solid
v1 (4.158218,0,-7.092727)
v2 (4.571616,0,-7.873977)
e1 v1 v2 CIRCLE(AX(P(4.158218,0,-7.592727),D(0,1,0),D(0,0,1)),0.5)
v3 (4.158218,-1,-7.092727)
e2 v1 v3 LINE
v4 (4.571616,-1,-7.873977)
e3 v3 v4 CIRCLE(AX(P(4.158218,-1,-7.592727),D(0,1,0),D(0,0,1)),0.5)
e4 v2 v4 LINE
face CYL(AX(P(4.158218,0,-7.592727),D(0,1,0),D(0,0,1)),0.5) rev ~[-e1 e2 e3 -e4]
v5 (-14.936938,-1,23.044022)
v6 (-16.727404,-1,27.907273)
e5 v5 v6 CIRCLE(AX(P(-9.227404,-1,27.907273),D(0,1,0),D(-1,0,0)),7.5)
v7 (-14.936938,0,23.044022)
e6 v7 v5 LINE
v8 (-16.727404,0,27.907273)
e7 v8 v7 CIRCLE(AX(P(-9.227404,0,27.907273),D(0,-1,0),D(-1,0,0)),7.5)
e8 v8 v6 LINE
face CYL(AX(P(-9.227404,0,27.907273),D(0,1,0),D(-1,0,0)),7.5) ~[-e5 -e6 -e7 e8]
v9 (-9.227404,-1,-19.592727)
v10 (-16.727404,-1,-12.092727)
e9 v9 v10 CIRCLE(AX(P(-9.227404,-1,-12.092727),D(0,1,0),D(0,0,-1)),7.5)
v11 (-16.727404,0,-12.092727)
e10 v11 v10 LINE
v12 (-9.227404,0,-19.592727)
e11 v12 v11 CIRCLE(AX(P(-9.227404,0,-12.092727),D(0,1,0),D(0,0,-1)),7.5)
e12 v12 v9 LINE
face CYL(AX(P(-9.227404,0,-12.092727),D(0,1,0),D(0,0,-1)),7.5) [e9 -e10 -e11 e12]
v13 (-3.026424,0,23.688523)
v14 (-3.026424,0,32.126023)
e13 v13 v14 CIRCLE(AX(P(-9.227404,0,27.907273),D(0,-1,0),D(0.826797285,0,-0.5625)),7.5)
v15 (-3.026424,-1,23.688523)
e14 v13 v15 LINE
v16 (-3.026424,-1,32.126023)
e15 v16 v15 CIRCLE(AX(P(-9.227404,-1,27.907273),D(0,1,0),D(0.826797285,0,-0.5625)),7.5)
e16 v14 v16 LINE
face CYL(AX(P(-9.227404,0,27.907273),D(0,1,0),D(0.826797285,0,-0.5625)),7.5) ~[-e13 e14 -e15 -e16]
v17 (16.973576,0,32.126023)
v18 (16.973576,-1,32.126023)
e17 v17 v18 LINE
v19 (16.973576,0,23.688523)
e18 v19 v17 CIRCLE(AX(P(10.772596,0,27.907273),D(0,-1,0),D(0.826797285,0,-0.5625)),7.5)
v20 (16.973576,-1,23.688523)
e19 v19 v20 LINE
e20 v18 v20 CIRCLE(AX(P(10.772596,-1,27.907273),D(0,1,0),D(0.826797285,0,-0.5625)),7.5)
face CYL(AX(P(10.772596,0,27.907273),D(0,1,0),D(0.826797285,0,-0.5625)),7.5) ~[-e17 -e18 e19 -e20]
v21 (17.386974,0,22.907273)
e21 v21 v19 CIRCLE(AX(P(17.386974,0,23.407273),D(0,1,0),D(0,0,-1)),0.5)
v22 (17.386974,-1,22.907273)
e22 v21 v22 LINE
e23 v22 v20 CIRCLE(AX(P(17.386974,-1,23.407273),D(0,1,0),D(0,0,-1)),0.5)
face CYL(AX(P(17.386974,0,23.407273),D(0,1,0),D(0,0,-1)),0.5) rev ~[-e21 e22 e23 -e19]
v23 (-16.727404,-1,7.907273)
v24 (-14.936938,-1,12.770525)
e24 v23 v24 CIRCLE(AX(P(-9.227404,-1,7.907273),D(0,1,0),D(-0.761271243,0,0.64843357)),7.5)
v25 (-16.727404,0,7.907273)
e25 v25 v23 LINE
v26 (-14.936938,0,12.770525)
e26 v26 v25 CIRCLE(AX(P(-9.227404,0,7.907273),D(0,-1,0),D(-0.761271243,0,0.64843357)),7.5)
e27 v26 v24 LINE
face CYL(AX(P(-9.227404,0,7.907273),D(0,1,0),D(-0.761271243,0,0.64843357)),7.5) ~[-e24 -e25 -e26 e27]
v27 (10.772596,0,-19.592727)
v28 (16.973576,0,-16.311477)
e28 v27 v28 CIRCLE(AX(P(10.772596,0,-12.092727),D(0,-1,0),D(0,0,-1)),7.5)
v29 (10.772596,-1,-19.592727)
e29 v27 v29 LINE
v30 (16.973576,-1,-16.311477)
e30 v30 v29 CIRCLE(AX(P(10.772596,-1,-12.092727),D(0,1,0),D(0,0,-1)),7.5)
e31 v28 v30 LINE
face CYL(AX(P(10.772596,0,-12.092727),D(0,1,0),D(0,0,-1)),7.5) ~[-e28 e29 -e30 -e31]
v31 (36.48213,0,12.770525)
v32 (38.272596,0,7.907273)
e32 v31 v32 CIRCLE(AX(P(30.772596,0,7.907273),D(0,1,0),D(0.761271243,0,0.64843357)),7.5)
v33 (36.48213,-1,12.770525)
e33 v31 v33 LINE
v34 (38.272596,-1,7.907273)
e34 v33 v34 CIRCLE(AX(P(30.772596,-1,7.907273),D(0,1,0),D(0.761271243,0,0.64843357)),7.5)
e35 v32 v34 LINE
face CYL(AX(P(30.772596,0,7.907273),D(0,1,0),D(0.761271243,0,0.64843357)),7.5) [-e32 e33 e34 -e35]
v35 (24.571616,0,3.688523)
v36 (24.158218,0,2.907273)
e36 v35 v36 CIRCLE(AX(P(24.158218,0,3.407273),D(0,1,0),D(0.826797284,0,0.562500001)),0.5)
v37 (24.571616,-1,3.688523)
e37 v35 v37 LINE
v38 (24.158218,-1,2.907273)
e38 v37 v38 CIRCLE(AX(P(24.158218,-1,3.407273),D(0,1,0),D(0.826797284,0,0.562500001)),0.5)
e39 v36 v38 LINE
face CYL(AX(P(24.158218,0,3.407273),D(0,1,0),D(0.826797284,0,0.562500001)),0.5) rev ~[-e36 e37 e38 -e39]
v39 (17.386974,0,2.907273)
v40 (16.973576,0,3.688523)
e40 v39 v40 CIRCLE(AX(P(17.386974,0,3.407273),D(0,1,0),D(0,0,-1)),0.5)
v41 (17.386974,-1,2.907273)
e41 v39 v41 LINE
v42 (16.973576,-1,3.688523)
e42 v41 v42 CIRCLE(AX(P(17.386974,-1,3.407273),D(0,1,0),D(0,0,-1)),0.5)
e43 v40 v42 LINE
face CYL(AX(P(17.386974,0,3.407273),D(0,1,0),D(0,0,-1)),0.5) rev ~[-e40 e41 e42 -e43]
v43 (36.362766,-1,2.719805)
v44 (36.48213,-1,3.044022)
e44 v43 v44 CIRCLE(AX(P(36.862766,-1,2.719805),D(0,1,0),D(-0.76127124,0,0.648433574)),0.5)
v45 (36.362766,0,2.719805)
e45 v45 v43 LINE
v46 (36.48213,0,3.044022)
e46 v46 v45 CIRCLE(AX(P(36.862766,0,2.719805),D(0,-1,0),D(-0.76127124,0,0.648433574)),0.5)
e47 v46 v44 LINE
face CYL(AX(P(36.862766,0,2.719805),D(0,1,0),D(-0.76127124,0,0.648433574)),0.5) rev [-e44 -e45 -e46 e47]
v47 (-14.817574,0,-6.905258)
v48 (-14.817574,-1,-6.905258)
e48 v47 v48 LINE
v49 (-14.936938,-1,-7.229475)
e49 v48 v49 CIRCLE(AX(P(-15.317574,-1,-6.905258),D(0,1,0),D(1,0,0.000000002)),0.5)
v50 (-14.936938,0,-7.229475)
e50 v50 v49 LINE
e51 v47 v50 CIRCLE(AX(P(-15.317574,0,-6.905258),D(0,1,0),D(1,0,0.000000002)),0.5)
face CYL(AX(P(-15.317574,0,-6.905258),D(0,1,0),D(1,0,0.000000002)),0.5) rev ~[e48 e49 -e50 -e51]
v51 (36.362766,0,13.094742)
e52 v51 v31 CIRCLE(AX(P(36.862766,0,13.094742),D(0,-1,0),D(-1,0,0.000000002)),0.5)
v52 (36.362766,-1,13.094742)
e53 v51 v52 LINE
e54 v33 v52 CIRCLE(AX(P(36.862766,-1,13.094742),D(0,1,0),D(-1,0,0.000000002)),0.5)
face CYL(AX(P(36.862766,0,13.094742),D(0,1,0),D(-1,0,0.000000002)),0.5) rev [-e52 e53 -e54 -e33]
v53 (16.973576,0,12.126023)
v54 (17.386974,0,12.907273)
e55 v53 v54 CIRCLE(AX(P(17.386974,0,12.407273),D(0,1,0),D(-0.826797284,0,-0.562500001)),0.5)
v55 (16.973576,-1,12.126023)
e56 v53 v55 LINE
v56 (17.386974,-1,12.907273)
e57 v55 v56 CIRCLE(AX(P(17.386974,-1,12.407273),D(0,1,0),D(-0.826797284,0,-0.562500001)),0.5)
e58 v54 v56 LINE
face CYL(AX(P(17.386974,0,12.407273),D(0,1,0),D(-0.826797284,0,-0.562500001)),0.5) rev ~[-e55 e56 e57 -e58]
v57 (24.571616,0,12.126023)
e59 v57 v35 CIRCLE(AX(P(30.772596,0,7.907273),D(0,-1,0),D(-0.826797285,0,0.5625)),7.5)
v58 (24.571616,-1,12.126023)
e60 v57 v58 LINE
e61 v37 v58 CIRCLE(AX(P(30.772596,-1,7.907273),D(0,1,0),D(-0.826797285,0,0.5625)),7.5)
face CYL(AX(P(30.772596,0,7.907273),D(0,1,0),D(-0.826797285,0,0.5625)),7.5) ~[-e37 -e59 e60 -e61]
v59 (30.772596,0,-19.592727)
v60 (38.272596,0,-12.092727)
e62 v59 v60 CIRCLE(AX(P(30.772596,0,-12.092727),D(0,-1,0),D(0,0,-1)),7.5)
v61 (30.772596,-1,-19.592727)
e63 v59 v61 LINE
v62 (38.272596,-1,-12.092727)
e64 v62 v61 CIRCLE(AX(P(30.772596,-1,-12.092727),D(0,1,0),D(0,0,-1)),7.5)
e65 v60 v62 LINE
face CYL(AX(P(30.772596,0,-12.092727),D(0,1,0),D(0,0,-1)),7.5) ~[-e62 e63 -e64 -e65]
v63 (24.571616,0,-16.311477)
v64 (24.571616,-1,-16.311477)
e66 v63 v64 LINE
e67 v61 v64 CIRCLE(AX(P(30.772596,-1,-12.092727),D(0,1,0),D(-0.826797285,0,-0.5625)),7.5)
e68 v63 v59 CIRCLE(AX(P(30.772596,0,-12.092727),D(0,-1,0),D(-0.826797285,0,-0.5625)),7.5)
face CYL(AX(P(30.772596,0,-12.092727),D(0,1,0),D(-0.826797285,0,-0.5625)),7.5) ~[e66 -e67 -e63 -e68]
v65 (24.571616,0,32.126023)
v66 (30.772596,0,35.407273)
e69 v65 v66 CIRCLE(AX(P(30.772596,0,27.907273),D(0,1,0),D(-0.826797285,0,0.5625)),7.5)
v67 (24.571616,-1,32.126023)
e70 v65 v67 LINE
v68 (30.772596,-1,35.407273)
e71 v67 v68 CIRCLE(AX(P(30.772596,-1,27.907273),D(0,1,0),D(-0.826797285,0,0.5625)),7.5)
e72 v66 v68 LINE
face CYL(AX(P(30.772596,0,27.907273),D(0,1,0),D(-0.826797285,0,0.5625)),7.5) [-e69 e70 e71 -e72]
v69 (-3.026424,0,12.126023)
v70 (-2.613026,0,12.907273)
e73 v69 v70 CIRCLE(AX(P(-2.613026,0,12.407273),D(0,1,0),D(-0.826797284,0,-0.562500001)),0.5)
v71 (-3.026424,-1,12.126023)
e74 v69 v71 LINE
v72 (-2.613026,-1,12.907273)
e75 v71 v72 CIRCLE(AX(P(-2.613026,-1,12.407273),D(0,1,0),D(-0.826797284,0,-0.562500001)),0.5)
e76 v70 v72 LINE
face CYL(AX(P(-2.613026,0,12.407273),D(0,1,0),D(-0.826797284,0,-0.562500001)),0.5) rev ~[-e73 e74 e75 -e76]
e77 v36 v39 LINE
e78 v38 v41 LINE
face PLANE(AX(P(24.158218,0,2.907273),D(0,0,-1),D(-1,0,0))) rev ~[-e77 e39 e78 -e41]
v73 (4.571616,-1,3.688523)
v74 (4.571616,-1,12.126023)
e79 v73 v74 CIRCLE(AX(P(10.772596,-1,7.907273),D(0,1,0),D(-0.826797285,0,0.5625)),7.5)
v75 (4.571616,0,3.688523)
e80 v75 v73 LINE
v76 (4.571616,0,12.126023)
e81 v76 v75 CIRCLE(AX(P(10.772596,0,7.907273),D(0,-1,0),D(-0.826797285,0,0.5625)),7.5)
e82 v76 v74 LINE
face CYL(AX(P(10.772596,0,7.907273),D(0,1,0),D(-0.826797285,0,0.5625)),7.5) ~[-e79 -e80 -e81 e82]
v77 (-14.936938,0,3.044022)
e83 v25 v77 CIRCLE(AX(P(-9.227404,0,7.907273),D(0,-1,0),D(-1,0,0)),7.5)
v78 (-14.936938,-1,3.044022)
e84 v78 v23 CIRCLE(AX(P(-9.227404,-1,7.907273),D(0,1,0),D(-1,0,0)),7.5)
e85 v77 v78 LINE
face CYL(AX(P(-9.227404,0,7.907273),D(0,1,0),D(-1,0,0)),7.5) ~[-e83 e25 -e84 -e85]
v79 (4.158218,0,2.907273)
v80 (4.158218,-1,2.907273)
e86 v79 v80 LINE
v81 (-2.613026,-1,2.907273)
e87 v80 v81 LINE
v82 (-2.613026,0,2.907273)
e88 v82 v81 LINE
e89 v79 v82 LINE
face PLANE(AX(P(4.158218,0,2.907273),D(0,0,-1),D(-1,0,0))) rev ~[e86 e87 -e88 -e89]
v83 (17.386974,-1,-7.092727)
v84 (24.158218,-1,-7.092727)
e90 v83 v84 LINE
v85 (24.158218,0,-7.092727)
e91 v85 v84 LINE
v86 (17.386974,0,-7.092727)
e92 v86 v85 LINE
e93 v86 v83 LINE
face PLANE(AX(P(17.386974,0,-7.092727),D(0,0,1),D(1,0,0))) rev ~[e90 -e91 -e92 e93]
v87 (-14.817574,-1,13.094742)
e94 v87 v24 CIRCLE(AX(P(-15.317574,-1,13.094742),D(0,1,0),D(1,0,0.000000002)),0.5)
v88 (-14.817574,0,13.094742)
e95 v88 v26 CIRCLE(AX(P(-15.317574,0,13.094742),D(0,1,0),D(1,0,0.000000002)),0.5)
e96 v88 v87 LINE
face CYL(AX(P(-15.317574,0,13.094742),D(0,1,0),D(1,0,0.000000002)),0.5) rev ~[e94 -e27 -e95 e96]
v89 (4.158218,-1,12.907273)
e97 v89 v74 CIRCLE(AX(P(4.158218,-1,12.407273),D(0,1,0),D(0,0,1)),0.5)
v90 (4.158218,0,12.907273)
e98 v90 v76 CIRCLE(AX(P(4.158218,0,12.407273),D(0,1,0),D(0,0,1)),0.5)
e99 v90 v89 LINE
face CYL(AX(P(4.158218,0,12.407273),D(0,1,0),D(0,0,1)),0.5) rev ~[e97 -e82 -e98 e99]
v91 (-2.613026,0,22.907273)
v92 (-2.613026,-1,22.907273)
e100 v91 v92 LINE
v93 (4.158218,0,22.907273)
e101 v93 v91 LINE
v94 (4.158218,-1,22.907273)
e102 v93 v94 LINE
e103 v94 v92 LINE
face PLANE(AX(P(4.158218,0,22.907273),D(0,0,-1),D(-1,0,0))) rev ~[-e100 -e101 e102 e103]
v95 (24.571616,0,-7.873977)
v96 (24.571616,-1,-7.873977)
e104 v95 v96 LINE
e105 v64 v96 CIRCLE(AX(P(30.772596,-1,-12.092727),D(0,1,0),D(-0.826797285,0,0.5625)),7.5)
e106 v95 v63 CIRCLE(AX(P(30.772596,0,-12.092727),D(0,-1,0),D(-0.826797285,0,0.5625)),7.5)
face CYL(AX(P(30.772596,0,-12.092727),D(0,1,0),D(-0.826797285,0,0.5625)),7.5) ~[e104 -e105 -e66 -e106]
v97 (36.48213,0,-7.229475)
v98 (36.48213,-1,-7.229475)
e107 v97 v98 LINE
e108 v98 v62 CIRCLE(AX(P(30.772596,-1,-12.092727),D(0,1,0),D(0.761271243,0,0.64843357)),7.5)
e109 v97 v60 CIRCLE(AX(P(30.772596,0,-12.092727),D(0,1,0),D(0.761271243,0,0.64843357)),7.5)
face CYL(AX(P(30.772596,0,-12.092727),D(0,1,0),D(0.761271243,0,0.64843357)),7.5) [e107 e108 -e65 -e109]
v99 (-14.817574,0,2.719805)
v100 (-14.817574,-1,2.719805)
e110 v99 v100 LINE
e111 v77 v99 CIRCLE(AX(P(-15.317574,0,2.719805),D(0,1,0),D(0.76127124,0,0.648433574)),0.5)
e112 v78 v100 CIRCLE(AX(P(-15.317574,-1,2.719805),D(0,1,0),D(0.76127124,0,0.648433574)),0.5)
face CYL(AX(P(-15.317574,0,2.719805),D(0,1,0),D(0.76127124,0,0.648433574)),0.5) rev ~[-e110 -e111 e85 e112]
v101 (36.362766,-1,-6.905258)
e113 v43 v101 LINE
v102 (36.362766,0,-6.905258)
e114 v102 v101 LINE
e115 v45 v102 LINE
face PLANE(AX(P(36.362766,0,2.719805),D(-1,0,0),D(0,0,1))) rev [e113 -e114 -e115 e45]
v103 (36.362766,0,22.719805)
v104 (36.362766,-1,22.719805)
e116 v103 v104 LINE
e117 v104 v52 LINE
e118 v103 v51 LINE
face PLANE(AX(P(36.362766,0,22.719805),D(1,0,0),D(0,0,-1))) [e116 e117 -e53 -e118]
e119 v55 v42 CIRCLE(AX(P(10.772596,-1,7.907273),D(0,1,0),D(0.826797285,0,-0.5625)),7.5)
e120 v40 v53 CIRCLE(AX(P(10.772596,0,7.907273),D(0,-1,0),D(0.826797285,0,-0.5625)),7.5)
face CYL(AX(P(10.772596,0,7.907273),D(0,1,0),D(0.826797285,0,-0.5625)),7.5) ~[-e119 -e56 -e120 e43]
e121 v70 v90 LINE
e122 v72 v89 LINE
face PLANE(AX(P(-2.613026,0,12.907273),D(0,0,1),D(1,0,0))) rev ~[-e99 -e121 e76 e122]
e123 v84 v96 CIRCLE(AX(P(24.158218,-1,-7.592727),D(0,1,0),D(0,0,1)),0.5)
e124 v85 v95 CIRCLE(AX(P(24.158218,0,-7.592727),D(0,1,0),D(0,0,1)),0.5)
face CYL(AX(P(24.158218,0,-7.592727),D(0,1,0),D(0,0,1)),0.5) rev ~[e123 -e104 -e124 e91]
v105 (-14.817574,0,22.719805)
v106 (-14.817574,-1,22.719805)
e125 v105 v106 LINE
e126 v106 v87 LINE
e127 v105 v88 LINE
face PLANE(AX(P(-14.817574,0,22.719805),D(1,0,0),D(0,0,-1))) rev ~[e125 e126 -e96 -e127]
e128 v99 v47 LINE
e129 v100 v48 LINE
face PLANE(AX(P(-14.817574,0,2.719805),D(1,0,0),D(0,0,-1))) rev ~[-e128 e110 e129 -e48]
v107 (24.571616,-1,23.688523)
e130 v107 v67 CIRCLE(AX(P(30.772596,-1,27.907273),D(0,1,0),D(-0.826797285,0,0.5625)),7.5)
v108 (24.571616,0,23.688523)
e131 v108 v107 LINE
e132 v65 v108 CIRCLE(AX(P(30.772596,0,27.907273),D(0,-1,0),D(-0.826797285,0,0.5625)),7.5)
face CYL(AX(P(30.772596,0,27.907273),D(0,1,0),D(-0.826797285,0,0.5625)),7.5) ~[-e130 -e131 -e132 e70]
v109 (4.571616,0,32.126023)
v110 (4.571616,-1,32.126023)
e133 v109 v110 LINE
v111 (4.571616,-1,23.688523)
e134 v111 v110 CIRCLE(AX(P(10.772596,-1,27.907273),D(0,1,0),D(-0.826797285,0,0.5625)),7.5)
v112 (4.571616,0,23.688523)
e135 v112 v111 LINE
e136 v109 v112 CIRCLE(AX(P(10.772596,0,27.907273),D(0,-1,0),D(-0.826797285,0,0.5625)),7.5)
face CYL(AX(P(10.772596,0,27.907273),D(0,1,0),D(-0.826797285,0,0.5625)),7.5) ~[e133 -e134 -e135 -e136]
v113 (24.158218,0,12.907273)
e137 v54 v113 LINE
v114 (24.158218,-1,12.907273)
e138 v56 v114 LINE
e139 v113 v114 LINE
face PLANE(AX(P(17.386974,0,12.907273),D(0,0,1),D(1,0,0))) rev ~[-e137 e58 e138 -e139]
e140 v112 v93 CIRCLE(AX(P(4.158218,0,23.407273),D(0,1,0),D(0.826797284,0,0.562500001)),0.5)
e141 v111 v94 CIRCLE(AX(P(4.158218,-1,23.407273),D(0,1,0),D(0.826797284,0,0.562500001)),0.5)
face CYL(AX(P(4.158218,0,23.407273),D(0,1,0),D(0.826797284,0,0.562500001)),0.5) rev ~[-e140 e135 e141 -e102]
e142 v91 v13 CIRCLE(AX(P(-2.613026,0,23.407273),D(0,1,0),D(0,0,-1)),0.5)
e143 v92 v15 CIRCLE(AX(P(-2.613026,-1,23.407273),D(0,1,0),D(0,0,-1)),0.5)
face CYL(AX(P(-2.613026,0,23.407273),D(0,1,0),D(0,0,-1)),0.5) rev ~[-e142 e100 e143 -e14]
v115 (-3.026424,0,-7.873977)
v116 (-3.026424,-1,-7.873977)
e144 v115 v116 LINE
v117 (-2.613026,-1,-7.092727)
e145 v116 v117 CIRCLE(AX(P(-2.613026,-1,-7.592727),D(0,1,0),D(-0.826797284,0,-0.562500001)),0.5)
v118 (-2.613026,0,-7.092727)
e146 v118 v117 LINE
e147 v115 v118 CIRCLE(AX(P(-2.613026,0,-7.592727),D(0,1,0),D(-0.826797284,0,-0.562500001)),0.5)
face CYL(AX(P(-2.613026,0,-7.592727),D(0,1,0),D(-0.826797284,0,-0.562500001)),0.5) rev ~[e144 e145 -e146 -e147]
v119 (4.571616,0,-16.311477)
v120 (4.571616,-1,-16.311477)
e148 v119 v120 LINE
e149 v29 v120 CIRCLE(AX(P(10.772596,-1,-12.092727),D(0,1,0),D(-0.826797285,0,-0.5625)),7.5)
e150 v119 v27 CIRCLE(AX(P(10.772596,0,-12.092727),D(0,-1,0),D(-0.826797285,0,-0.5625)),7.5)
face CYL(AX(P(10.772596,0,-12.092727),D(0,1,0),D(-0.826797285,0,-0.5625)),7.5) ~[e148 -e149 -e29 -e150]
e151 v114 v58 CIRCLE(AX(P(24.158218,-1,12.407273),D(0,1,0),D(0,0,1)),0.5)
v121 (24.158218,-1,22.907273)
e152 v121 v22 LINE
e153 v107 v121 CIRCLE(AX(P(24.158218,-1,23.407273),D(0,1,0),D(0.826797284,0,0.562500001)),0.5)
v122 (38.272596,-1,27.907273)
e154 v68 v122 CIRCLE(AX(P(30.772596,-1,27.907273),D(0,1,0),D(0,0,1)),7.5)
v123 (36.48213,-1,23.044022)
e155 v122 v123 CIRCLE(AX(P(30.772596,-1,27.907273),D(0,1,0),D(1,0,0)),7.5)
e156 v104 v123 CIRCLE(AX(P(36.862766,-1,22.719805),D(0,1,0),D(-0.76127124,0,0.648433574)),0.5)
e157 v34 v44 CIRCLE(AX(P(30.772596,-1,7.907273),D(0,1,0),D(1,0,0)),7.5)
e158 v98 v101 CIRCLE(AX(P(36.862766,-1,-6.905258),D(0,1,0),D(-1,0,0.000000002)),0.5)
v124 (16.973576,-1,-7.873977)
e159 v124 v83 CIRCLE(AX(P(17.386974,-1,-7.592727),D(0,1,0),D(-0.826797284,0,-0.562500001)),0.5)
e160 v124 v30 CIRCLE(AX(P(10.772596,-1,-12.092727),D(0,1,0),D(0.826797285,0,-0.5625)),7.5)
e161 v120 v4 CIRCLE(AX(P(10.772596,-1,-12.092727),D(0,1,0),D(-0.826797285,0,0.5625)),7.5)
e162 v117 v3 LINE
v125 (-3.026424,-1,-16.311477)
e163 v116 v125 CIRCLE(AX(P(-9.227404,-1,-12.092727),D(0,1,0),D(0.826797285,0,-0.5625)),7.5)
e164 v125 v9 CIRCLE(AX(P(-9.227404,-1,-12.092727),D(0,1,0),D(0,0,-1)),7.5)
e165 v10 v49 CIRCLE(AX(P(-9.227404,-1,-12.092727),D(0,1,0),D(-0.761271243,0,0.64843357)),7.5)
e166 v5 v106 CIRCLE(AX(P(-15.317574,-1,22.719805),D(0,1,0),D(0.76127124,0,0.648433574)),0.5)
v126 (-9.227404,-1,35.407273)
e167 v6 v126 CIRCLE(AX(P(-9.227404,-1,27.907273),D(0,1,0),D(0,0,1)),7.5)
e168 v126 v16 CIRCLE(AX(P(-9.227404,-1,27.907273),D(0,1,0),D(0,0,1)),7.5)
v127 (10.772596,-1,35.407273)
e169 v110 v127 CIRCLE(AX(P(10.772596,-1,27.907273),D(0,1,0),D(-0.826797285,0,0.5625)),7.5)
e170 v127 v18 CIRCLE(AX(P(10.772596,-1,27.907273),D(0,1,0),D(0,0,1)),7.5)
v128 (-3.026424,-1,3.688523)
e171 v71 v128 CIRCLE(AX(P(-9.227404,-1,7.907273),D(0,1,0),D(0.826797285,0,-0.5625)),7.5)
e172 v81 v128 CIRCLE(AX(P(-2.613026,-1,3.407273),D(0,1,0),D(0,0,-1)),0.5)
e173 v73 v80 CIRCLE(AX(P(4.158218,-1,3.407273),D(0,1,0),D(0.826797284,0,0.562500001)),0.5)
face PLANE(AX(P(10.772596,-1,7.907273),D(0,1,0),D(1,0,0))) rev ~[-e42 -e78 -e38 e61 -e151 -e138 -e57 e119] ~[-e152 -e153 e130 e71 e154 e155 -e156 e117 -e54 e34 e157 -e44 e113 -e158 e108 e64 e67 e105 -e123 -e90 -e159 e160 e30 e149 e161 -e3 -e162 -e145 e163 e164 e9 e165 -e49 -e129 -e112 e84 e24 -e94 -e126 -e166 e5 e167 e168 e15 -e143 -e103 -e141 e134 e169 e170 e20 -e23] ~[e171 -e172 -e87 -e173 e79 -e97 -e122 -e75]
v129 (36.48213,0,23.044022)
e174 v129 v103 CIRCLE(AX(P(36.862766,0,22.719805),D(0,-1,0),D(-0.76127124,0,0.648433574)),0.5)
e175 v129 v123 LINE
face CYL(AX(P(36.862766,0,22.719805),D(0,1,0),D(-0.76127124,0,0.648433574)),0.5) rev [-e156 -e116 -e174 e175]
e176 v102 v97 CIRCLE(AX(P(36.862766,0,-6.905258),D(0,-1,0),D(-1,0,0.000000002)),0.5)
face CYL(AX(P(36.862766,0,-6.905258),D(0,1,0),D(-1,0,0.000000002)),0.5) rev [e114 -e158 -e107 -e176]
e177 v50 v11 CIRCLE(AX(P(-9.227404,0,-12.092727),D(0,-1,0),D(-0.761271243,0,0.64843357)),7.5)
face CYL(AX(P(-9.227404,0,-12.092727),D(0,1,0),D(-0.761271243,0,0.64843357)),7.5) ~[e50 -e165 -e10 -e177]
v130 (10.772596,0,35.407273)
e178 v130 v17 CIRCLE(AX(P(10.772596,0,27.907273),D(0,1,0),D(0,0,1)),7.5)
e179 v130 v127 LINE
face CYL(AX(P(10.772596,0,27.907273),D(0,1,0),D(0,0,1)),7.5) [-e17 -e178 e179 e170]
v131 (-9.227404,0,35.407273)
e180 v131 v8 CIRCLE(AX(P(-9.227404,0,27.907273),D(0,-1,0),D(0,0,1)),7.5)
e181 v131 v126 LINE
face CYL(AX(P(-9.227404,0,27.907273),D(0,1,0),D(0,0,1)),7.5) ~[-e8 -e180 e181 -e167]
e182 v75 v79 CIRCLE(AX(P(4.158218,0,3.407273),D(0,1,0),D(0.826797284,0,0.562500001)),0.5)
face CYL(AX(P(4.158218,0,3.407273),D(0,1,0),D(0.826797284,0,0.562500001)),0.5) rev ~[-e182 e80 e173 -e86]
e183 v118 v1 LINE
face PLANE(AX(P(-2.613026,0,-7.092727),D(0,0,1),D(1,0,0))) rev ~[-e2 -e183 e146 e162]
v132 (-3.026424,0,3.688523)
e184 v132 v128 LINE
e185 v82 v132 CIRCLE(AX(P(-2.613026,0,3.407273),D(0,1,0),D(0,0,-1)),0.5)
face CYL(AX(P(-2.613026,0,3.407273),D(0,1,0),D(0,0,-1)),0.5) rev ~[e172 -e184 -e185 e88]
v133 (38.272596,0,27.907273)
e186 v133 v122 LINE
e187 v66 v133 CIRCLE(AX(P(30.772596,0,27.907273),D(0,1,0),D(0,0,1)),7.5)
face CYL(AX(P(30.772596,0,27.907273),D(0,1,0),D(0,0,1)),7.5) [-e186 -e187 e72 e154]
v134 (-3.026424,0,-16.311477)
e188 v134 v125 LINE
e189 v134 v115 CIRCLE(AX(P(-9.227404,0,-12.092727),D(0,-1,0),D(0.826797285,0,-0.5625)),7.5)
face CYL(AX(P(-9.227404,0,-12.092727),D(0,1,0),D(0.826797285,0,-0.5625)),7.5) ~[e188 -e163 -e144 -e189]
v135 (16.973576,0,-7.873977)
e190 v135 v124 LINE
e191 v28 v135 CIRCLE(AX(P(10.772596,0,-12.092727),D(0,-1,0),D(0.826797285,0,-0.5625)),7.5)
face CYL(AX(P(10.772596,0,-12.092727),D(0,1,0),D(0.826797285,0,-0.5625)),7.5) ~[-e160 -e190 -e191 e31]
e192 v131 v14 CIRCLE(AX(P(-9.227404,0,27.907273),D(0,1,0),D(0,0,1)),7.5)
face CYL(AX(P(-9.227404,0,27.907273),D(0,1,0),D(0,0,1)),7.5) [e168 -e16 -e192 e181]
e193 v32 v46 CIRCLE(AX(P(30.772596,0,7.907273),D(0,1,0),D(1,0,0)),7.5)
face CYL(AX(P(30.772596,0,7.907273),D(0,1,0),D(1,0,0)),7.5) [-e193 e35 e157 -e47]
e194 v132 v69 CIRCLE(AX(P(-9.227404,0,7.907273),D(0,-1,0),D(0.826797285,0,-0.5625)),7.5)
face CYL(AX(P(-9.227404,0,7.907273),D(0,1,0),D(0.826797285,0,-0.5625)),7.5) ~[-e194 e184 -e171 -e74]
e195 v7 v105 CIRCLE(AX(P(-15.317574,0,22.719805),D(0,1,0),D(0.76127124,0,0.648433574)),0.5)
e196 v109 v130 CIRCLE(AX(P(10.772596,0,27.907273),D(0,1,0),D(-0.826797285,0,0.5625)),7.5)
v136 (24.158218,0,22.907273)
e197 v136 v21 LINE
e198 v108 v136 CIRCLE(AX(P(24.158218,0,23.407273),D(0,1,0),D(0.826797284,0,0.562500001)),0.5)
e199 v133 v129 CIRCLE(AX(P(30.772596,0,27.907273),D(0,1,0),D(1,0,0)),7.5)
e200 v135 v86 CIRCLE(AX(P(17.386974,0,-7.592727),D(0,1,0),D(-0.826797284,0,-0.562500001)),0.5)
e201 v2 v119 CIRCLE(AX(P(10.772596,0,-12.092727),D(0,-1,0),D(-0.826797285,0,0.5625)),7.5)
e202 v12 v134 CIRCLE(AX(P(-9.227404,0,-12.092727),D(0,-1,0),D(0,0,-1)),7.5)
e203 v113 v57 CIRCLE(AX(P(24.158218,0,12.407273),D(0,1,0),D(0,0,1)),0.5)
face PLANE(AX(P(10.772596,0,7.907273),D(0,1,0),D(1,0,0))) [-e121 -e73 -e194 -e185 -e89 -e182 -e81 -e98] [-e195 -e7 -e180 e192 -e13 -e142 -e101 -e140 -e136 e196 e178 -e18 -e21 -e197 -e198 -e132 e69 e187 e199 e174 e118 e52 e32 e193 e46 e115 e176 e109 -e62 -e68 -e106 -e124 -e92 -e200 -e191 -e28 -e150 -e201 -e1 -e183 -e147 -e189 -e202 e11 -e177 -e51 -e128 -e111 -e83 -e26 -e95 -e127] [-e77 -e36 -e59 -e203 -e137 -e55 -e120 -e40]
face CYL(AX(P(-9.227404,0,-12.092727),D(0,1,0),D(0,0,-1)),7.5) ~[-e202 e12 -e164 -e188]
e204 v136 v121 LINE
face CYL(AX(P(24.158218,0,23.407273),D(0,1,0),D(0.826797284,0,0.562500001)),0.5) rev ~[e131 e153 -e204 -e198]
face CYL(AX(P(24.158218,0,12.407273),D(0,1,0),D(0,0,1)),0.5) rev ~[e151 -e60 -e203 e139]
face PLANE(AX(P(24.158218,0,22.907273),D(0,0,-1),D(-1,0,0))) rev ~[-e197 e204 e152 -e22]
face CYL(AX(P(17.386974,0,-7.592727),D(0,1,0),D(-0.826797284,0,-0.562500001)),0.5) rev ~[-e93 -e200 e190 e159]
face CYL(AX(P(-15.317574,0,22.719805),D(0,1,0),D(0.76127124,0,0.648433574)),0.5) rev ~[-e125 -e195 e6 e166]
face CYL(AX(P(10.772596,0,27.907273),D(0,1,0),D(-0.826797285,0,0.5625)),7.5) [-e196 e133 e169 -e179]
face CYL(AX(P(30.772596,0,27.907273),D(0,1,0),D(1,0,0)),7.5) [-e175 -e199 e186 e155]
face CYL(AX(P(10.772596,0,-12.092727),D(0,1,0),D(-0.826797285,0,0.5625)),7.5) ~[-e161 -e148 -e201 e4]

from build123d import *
from build123d.topology import SkipClean

# Parameters (mm, degrees)
L_U_BR_IST_W               = 55
L_U_BR_IST_H               = 55
AUFSATZ_LIN_GK_DEPTH       = 1
SCHNITT_LIN_S1_DEPTH       = 2
SCHNITT_LIN_S2_DEPTH       = 2
SCHNITT_LIN_S3_DEPTH       = 2
SCHNITT_LIN_S4_DEPTH       = 2
LIN_MUSTER_S1_COUNT        = 2
LIN_MUSTER_S1_PITCH        = 20
LIN_MUSTER_S1_COUNT_DIR2   = 3
LIN_MUSTER_S1_PITCH_DIR2   = 20
LIN_MUSTER_S2_COUNT        = 2
LIN_MUSTER_S2_PITCH        = 20
LIN_MUSTER_S3_COUNT        = 2
LIN_MUSTER_S3_PITCH        = 20
SPIEGELN_S4_Z_COPY_1_DEPTH = 2
SPIEGELN_S2_COPY_1_DEPTH   = 2
SPIEGELN_S3_COPY_1_DEPTH   = 2
SPIEGELN_S3_COPY_2_DEPTH   = 2


with BuildPart() as part:
    # L_ u Br Ist → Aufsatz-Lin_GK (new body)
    with BuildSketch(Plane(origin=(0, 0, 0), x_dir=(1, 0, 0), z_dir=(0, 1, 0))):
        with Locations((10.772595927, -7.907273432)):
            Rectangle(L_U_BR_IST_W, L_U_BR_IST_H)
    extrude(amount=-AUFSATZ_LIN_GK_DEPTH)

    # Sketch S1 → Schnitt-Lin_S1 (cut, through all)
    with BuildSketch(Plane(origin=(0, 0, 0), x_dir=(1, 0, 0), z_dir=(0, 1, 0))):
        with BuildLine():
            Line((-2.613025796, 7.092726568), (4.158217649, 7.092726568))
            ThreePointArc((4.158217649, 7.092726568), (4.600159387, 7.358872981), (4.571616291, 7.873976568))
            ThreePointArc((4.571616291, 7.873976568), (3.272595927, 12.092726568), (4.571616291, 16.311476568))
            ThreePointArc((4.571616291, 16.311476568), (4.600159387, 16.826580155), (4.158217649, 17.092726568))
            Line((4.158217649, 17.092726568), (-2.613025796, 17.092726568))
            ThreePointArc((-2.613025796, 17.092726568), (-3.054967534, 16.826580155), (-3.026424438, 16.311476568))
            ThreePointArc((-3.026424438, 16.311476568), (-1.727404073, 12.092726568), (-3.026424438, 7.873976568))
            ThreePointArc((-3.026424438, 7.873976568), (-3.054967534, 7.358872981), (-2.613025796, 7.092726568))
        make_face()
    schnitt_lin_s1 = extrude(amount=-SCHNITT_LIN_S1_DEPTH, mode=Mode.SUBTRACT)

    # Sketch S2 → Schnitt-Lin_S2 (cut, through all)
    with BuildSketch(Plane(origin=(0, 0, 0), x_dir=(1, 0, 0), z_dir=(0, 1, 0))):
        with BuildLine():
            Line((-14.817574017, -2.719804872), (-14.817574017, 6.905258008))
            ThreePointArc((-14.817574017, 6.905258008), (-14.848363078, 7.07800376), (-14.936938396, 7.229474793))
            ThreePointArc((-14.936938396, 7.229474793), (-16.26556816, 9.501540297), (-16.727404073, 12.092726568))
            Line((-16.727404073, 12.092726568), (-16.727404073, -7.907273432))
            ThreePointArc((-16.727404073, -7.907273432), (-16.26556816, -5.316087161), (-14.936938396, -3.044021657))
            ThreePointArc((-14.936938396, -3.044021657), (-14.848363078, -2.892550624), (-14.817574017, -2.719804872))
        make_face()
    schnitt_lin_s2 = extrude(amount=-SCHNITT_LIN_S2_DEPTH, mode=Mode.SUBTRACT)

    # Sketch S3 → Schnitt-Lin_S3 (cut, through all)
    with BuildSketch(Plane(origin=(0, 0, 0), x_dir=(1, 0, 0), z_dir=(0, 1, 0))):
        with BuildLine():
            Line((-3.026424438, 16.311476568), (4.571616291, 16.311476568))
            ThreePointArc((4.571616291, 16.311476568), (7.264792127, 18.721852642), (10.772595927, 19.592726568))
            Line((10.772595927, 19.592726568), (-9.227404073, 19.592726568))
            ThreePointArc((-9.227404073, 19.592726568), (-5.719600273, 18.721852642), (-3.026424438, 16.311476568))
        make_face()
    schnitt_lin_s3 = extrude(amount=-SCHNITT_LIN_S3_DEPTH, mode=Mode.SUBTRACT)

    # Sketch S4 → Schnitt-Lin_S4 (cut, through all)
    with SkipClean():  # keep this step's faces unmerged: merging them makes the solid invalid here
        with BuildSketch(Plane(origin=(0, 0, 0), x_dir=(1, 0, 0), z_dir=(0, 1, 0))):
            with BuildLine():
                Line((-16.727404073, 12.092726568), (-16.727404073, 19.592726568))
                Line((-16.727404073, 19.592726568), (-9.227404073, 19.592726568))
                ThreePointArc((-9.227404073, 19.592726568), (-14.530704932, 17.396027427), (-16.727404073, 12.092726568))
            make_face()
        schnitt_lin_s4 = extrude(amount=-SCHNITT_LIN_S4_DEPTH, mode=Mode.SUBTRACT)

    # Lin Muster_S1: Schnitt-Lin_S1 2 × 3
    with SkipClean():  # keep this step's faces unmerged: merging them makes the solid invalid here
        with Locations(*[(i * LIN_MUSTER_S1_PITCH, 0, j * LIN_MUSTER_S1_PITCH_DIR2) for i in range(LIN_MUSTER_S1_COUNT) for j in range(LIN_MUSTER_S1_COUNT_DIR2) if (i, j) != (0, 0)]):
            add(schnitt_lin_s1, mode=Mode.SUBTRACT)

    # Lin Muster_S2: Schnitt-Lin_S2 ×2
    with SkipClean():  # keep this step's faces unmerged: merging them makes the solid invalid here
        with Locations(*[(0, 0, i * LIN_MUSTER_S2_PITCH) for i in range(1, LIN_MUSTER_S2_COUNT)]):
            add(schnitt_lin_s2, mode=Mode.SUBTRACT)

    # Lin Muster_S3: Schnitt-Lin_S3 ×2
    with SkipClean():  # keep this step's faces unmerged: merging them makes the solid invalid here
        with Locations(*[(i * LIN_MUSTER_S3_PITCH, 0, 0) for i in range(1, LIN_MUSTER_S3_COUNT)]):
            add(schnitt_lin_s3, mode=Mode.SUBTRACT)

    # Spiegeln_S4 X: Schnitt-Lin_S4 across plane
    with SkipClean():  # keep this step's faces unmerged: merging them makes the solid invalid here
        add(schnitt_lin_s4.mirror(Plane.ZY.offset(-10.772595927)), mode=Mode.SUBTRACT)

    # Spiegeln_S4 Z: Schnitt-Lin_S4 across plane
    with SkipClean():  # keep this step's faces unmerged: merging them makes the solid invalid here
        add(schnitt_lin_s4.mirror(Plane.XY.offset(7.907273432)), mode=Mode.SUBTRACT)

    # Spiegeln_S4 Z copy 1 sketch → Spiegeln_S4 Z copy 1 (cut, through all)
    with SkipClean():  # keep this step's faces unmerged: merging them makes the solid invalid here
        with BuildSketch(Plane(origin=(21.545191853, 0, 15.814546864), x_dir=(-1, 0, 0), z_dir=(0, 1, 0))):
            with BuildLine():
                Line((-16.727404073, 12.092726568), (-16.727404073, 19.592726568))
                Line((-16.727404073, 19.592726568), (-9.227404073, 19.592726568))
                ThreePointArc((-9.227404073, 19.592726568), (-14.530704932, 17.396027427), (-16.727404073, 12.092726568))
            make_face()
        extrude(amount=-SPIEGELN_S4_Z_COPY_1_DEPTH, mode=Mode.SUBTRACT)

    # Spiegeln_S2: Schnitt-Lin_S2 across plane
    with SkipClean():  # keep this step's faces unmerged: merging them makes the solid invalid here
        add(schnitt_lin_s2.mirror(Plane.ZY.offset(-10.772595927)), mode=Mode.SUBTRACT)

    # Spiegeln_S2 copy 1 sketch → Spiegeln_S2 copy 1 (cut, through all)
    with SkipClean():  # keep this step's faces unmerged: merging them makes the solid invalid here
        with BuildSketch(Plane(origin=(21.545191853, 0, 20), x_dir=(-1, 0, 0), z_dir=(0, 1, 0))):
            with BuildLine():
                Line((-14.817574017, 2.719804872), (-14.817574017, -6.905258008))
                ThreePointArc((-14.817574017, -6.905258008), (-14.848363078, -7.07800376), (-14.936938396, -7.229474793))
                ThreePointArc((-14.936938396, -7.229474793), (-16.26556816, -9.501540297), (-16.727404073, -12.092726568))
                Line((-16.727404073, -12.092726568), (-16.727404073, 7.907273432))
                ThreePointArc((-16.727404073, 7.907273432), (-16.26556816, 5.316087161), (-14.936938396, 3.044021657))
                ThreePointArc((-14.936938396, 3.044021657), (-14.848363078, 2.892550624), (-14.817574017, 2.719804872))
            make_face()
        extrude(amount=-SPIEGELN_S2_COPY_1_DEPTH, mode=Mode.SUBTRACT)

    # Spiegeln_S3 copy 1 sketch → Spiegeln_S3 copy 1 (cut, through all)
    with SkipClean():  # keep this step's faces unmerged: merging them makes the solid invalid here
        with BuildSketch(Plane(origin=(20, 0, 15.814546864), x_dir=(1, 0, 0), z_dir=(0, 1, 0))):
            with BuildLine():
                Line((-3.026424438, -16.311476568), (4.571616291, -16.311476568))
                ThreePointArc((4.571616291, -16.311476568), (7.264792127, -18.721852642), (10.772595927, -19.592726568))
                Line((10.772595927, -19.592726568), (-9.227404073, -19.592726568))
                ThreePointArc((-9.227404073, -19.592726568), (-5.719600273, -18.721852642), (-3.026424438, -16.311476568))
            make_face()
        extrude(amount=-SPIEGELN_S3_COPY_1_DEPTH, mode=Mode.SUBTRACT)

    # Spiegeln_S3 copy 2 sketch → Spiegeln_S3 copy 2 (cut, through all)
    with SkipClean():  # keep this step's faces unmerged: merging them makes the solid invalid here
        with BuildSketch(Plane(origin=(0, 0, 15.814546864), x_dir=(1, 0, 0), z_dir=(0, 1, 0))):
            with BuildLine():
                Line((-3.026424438, -16.311476568), (4.571616291, -16.311476568))
                ThreePointArc((4.571616291, -16.311476568), (7.264792127, -18.721852642), (10.772595927, -19.592726568))
                Line((10.772595927, -19.592726568), (-9.227404073, -19.592726568))
                ThreePointArc((-9.227404073, -19.592726568), (-5.719600273, -18.721852642), (-3.026424438, -16.311476568))
            make_face()
        extrude(amount=-SPIEGELN_S3_COPY_2_DEPTH, mode=Mode.SUBTRACT)


solid = part.part
